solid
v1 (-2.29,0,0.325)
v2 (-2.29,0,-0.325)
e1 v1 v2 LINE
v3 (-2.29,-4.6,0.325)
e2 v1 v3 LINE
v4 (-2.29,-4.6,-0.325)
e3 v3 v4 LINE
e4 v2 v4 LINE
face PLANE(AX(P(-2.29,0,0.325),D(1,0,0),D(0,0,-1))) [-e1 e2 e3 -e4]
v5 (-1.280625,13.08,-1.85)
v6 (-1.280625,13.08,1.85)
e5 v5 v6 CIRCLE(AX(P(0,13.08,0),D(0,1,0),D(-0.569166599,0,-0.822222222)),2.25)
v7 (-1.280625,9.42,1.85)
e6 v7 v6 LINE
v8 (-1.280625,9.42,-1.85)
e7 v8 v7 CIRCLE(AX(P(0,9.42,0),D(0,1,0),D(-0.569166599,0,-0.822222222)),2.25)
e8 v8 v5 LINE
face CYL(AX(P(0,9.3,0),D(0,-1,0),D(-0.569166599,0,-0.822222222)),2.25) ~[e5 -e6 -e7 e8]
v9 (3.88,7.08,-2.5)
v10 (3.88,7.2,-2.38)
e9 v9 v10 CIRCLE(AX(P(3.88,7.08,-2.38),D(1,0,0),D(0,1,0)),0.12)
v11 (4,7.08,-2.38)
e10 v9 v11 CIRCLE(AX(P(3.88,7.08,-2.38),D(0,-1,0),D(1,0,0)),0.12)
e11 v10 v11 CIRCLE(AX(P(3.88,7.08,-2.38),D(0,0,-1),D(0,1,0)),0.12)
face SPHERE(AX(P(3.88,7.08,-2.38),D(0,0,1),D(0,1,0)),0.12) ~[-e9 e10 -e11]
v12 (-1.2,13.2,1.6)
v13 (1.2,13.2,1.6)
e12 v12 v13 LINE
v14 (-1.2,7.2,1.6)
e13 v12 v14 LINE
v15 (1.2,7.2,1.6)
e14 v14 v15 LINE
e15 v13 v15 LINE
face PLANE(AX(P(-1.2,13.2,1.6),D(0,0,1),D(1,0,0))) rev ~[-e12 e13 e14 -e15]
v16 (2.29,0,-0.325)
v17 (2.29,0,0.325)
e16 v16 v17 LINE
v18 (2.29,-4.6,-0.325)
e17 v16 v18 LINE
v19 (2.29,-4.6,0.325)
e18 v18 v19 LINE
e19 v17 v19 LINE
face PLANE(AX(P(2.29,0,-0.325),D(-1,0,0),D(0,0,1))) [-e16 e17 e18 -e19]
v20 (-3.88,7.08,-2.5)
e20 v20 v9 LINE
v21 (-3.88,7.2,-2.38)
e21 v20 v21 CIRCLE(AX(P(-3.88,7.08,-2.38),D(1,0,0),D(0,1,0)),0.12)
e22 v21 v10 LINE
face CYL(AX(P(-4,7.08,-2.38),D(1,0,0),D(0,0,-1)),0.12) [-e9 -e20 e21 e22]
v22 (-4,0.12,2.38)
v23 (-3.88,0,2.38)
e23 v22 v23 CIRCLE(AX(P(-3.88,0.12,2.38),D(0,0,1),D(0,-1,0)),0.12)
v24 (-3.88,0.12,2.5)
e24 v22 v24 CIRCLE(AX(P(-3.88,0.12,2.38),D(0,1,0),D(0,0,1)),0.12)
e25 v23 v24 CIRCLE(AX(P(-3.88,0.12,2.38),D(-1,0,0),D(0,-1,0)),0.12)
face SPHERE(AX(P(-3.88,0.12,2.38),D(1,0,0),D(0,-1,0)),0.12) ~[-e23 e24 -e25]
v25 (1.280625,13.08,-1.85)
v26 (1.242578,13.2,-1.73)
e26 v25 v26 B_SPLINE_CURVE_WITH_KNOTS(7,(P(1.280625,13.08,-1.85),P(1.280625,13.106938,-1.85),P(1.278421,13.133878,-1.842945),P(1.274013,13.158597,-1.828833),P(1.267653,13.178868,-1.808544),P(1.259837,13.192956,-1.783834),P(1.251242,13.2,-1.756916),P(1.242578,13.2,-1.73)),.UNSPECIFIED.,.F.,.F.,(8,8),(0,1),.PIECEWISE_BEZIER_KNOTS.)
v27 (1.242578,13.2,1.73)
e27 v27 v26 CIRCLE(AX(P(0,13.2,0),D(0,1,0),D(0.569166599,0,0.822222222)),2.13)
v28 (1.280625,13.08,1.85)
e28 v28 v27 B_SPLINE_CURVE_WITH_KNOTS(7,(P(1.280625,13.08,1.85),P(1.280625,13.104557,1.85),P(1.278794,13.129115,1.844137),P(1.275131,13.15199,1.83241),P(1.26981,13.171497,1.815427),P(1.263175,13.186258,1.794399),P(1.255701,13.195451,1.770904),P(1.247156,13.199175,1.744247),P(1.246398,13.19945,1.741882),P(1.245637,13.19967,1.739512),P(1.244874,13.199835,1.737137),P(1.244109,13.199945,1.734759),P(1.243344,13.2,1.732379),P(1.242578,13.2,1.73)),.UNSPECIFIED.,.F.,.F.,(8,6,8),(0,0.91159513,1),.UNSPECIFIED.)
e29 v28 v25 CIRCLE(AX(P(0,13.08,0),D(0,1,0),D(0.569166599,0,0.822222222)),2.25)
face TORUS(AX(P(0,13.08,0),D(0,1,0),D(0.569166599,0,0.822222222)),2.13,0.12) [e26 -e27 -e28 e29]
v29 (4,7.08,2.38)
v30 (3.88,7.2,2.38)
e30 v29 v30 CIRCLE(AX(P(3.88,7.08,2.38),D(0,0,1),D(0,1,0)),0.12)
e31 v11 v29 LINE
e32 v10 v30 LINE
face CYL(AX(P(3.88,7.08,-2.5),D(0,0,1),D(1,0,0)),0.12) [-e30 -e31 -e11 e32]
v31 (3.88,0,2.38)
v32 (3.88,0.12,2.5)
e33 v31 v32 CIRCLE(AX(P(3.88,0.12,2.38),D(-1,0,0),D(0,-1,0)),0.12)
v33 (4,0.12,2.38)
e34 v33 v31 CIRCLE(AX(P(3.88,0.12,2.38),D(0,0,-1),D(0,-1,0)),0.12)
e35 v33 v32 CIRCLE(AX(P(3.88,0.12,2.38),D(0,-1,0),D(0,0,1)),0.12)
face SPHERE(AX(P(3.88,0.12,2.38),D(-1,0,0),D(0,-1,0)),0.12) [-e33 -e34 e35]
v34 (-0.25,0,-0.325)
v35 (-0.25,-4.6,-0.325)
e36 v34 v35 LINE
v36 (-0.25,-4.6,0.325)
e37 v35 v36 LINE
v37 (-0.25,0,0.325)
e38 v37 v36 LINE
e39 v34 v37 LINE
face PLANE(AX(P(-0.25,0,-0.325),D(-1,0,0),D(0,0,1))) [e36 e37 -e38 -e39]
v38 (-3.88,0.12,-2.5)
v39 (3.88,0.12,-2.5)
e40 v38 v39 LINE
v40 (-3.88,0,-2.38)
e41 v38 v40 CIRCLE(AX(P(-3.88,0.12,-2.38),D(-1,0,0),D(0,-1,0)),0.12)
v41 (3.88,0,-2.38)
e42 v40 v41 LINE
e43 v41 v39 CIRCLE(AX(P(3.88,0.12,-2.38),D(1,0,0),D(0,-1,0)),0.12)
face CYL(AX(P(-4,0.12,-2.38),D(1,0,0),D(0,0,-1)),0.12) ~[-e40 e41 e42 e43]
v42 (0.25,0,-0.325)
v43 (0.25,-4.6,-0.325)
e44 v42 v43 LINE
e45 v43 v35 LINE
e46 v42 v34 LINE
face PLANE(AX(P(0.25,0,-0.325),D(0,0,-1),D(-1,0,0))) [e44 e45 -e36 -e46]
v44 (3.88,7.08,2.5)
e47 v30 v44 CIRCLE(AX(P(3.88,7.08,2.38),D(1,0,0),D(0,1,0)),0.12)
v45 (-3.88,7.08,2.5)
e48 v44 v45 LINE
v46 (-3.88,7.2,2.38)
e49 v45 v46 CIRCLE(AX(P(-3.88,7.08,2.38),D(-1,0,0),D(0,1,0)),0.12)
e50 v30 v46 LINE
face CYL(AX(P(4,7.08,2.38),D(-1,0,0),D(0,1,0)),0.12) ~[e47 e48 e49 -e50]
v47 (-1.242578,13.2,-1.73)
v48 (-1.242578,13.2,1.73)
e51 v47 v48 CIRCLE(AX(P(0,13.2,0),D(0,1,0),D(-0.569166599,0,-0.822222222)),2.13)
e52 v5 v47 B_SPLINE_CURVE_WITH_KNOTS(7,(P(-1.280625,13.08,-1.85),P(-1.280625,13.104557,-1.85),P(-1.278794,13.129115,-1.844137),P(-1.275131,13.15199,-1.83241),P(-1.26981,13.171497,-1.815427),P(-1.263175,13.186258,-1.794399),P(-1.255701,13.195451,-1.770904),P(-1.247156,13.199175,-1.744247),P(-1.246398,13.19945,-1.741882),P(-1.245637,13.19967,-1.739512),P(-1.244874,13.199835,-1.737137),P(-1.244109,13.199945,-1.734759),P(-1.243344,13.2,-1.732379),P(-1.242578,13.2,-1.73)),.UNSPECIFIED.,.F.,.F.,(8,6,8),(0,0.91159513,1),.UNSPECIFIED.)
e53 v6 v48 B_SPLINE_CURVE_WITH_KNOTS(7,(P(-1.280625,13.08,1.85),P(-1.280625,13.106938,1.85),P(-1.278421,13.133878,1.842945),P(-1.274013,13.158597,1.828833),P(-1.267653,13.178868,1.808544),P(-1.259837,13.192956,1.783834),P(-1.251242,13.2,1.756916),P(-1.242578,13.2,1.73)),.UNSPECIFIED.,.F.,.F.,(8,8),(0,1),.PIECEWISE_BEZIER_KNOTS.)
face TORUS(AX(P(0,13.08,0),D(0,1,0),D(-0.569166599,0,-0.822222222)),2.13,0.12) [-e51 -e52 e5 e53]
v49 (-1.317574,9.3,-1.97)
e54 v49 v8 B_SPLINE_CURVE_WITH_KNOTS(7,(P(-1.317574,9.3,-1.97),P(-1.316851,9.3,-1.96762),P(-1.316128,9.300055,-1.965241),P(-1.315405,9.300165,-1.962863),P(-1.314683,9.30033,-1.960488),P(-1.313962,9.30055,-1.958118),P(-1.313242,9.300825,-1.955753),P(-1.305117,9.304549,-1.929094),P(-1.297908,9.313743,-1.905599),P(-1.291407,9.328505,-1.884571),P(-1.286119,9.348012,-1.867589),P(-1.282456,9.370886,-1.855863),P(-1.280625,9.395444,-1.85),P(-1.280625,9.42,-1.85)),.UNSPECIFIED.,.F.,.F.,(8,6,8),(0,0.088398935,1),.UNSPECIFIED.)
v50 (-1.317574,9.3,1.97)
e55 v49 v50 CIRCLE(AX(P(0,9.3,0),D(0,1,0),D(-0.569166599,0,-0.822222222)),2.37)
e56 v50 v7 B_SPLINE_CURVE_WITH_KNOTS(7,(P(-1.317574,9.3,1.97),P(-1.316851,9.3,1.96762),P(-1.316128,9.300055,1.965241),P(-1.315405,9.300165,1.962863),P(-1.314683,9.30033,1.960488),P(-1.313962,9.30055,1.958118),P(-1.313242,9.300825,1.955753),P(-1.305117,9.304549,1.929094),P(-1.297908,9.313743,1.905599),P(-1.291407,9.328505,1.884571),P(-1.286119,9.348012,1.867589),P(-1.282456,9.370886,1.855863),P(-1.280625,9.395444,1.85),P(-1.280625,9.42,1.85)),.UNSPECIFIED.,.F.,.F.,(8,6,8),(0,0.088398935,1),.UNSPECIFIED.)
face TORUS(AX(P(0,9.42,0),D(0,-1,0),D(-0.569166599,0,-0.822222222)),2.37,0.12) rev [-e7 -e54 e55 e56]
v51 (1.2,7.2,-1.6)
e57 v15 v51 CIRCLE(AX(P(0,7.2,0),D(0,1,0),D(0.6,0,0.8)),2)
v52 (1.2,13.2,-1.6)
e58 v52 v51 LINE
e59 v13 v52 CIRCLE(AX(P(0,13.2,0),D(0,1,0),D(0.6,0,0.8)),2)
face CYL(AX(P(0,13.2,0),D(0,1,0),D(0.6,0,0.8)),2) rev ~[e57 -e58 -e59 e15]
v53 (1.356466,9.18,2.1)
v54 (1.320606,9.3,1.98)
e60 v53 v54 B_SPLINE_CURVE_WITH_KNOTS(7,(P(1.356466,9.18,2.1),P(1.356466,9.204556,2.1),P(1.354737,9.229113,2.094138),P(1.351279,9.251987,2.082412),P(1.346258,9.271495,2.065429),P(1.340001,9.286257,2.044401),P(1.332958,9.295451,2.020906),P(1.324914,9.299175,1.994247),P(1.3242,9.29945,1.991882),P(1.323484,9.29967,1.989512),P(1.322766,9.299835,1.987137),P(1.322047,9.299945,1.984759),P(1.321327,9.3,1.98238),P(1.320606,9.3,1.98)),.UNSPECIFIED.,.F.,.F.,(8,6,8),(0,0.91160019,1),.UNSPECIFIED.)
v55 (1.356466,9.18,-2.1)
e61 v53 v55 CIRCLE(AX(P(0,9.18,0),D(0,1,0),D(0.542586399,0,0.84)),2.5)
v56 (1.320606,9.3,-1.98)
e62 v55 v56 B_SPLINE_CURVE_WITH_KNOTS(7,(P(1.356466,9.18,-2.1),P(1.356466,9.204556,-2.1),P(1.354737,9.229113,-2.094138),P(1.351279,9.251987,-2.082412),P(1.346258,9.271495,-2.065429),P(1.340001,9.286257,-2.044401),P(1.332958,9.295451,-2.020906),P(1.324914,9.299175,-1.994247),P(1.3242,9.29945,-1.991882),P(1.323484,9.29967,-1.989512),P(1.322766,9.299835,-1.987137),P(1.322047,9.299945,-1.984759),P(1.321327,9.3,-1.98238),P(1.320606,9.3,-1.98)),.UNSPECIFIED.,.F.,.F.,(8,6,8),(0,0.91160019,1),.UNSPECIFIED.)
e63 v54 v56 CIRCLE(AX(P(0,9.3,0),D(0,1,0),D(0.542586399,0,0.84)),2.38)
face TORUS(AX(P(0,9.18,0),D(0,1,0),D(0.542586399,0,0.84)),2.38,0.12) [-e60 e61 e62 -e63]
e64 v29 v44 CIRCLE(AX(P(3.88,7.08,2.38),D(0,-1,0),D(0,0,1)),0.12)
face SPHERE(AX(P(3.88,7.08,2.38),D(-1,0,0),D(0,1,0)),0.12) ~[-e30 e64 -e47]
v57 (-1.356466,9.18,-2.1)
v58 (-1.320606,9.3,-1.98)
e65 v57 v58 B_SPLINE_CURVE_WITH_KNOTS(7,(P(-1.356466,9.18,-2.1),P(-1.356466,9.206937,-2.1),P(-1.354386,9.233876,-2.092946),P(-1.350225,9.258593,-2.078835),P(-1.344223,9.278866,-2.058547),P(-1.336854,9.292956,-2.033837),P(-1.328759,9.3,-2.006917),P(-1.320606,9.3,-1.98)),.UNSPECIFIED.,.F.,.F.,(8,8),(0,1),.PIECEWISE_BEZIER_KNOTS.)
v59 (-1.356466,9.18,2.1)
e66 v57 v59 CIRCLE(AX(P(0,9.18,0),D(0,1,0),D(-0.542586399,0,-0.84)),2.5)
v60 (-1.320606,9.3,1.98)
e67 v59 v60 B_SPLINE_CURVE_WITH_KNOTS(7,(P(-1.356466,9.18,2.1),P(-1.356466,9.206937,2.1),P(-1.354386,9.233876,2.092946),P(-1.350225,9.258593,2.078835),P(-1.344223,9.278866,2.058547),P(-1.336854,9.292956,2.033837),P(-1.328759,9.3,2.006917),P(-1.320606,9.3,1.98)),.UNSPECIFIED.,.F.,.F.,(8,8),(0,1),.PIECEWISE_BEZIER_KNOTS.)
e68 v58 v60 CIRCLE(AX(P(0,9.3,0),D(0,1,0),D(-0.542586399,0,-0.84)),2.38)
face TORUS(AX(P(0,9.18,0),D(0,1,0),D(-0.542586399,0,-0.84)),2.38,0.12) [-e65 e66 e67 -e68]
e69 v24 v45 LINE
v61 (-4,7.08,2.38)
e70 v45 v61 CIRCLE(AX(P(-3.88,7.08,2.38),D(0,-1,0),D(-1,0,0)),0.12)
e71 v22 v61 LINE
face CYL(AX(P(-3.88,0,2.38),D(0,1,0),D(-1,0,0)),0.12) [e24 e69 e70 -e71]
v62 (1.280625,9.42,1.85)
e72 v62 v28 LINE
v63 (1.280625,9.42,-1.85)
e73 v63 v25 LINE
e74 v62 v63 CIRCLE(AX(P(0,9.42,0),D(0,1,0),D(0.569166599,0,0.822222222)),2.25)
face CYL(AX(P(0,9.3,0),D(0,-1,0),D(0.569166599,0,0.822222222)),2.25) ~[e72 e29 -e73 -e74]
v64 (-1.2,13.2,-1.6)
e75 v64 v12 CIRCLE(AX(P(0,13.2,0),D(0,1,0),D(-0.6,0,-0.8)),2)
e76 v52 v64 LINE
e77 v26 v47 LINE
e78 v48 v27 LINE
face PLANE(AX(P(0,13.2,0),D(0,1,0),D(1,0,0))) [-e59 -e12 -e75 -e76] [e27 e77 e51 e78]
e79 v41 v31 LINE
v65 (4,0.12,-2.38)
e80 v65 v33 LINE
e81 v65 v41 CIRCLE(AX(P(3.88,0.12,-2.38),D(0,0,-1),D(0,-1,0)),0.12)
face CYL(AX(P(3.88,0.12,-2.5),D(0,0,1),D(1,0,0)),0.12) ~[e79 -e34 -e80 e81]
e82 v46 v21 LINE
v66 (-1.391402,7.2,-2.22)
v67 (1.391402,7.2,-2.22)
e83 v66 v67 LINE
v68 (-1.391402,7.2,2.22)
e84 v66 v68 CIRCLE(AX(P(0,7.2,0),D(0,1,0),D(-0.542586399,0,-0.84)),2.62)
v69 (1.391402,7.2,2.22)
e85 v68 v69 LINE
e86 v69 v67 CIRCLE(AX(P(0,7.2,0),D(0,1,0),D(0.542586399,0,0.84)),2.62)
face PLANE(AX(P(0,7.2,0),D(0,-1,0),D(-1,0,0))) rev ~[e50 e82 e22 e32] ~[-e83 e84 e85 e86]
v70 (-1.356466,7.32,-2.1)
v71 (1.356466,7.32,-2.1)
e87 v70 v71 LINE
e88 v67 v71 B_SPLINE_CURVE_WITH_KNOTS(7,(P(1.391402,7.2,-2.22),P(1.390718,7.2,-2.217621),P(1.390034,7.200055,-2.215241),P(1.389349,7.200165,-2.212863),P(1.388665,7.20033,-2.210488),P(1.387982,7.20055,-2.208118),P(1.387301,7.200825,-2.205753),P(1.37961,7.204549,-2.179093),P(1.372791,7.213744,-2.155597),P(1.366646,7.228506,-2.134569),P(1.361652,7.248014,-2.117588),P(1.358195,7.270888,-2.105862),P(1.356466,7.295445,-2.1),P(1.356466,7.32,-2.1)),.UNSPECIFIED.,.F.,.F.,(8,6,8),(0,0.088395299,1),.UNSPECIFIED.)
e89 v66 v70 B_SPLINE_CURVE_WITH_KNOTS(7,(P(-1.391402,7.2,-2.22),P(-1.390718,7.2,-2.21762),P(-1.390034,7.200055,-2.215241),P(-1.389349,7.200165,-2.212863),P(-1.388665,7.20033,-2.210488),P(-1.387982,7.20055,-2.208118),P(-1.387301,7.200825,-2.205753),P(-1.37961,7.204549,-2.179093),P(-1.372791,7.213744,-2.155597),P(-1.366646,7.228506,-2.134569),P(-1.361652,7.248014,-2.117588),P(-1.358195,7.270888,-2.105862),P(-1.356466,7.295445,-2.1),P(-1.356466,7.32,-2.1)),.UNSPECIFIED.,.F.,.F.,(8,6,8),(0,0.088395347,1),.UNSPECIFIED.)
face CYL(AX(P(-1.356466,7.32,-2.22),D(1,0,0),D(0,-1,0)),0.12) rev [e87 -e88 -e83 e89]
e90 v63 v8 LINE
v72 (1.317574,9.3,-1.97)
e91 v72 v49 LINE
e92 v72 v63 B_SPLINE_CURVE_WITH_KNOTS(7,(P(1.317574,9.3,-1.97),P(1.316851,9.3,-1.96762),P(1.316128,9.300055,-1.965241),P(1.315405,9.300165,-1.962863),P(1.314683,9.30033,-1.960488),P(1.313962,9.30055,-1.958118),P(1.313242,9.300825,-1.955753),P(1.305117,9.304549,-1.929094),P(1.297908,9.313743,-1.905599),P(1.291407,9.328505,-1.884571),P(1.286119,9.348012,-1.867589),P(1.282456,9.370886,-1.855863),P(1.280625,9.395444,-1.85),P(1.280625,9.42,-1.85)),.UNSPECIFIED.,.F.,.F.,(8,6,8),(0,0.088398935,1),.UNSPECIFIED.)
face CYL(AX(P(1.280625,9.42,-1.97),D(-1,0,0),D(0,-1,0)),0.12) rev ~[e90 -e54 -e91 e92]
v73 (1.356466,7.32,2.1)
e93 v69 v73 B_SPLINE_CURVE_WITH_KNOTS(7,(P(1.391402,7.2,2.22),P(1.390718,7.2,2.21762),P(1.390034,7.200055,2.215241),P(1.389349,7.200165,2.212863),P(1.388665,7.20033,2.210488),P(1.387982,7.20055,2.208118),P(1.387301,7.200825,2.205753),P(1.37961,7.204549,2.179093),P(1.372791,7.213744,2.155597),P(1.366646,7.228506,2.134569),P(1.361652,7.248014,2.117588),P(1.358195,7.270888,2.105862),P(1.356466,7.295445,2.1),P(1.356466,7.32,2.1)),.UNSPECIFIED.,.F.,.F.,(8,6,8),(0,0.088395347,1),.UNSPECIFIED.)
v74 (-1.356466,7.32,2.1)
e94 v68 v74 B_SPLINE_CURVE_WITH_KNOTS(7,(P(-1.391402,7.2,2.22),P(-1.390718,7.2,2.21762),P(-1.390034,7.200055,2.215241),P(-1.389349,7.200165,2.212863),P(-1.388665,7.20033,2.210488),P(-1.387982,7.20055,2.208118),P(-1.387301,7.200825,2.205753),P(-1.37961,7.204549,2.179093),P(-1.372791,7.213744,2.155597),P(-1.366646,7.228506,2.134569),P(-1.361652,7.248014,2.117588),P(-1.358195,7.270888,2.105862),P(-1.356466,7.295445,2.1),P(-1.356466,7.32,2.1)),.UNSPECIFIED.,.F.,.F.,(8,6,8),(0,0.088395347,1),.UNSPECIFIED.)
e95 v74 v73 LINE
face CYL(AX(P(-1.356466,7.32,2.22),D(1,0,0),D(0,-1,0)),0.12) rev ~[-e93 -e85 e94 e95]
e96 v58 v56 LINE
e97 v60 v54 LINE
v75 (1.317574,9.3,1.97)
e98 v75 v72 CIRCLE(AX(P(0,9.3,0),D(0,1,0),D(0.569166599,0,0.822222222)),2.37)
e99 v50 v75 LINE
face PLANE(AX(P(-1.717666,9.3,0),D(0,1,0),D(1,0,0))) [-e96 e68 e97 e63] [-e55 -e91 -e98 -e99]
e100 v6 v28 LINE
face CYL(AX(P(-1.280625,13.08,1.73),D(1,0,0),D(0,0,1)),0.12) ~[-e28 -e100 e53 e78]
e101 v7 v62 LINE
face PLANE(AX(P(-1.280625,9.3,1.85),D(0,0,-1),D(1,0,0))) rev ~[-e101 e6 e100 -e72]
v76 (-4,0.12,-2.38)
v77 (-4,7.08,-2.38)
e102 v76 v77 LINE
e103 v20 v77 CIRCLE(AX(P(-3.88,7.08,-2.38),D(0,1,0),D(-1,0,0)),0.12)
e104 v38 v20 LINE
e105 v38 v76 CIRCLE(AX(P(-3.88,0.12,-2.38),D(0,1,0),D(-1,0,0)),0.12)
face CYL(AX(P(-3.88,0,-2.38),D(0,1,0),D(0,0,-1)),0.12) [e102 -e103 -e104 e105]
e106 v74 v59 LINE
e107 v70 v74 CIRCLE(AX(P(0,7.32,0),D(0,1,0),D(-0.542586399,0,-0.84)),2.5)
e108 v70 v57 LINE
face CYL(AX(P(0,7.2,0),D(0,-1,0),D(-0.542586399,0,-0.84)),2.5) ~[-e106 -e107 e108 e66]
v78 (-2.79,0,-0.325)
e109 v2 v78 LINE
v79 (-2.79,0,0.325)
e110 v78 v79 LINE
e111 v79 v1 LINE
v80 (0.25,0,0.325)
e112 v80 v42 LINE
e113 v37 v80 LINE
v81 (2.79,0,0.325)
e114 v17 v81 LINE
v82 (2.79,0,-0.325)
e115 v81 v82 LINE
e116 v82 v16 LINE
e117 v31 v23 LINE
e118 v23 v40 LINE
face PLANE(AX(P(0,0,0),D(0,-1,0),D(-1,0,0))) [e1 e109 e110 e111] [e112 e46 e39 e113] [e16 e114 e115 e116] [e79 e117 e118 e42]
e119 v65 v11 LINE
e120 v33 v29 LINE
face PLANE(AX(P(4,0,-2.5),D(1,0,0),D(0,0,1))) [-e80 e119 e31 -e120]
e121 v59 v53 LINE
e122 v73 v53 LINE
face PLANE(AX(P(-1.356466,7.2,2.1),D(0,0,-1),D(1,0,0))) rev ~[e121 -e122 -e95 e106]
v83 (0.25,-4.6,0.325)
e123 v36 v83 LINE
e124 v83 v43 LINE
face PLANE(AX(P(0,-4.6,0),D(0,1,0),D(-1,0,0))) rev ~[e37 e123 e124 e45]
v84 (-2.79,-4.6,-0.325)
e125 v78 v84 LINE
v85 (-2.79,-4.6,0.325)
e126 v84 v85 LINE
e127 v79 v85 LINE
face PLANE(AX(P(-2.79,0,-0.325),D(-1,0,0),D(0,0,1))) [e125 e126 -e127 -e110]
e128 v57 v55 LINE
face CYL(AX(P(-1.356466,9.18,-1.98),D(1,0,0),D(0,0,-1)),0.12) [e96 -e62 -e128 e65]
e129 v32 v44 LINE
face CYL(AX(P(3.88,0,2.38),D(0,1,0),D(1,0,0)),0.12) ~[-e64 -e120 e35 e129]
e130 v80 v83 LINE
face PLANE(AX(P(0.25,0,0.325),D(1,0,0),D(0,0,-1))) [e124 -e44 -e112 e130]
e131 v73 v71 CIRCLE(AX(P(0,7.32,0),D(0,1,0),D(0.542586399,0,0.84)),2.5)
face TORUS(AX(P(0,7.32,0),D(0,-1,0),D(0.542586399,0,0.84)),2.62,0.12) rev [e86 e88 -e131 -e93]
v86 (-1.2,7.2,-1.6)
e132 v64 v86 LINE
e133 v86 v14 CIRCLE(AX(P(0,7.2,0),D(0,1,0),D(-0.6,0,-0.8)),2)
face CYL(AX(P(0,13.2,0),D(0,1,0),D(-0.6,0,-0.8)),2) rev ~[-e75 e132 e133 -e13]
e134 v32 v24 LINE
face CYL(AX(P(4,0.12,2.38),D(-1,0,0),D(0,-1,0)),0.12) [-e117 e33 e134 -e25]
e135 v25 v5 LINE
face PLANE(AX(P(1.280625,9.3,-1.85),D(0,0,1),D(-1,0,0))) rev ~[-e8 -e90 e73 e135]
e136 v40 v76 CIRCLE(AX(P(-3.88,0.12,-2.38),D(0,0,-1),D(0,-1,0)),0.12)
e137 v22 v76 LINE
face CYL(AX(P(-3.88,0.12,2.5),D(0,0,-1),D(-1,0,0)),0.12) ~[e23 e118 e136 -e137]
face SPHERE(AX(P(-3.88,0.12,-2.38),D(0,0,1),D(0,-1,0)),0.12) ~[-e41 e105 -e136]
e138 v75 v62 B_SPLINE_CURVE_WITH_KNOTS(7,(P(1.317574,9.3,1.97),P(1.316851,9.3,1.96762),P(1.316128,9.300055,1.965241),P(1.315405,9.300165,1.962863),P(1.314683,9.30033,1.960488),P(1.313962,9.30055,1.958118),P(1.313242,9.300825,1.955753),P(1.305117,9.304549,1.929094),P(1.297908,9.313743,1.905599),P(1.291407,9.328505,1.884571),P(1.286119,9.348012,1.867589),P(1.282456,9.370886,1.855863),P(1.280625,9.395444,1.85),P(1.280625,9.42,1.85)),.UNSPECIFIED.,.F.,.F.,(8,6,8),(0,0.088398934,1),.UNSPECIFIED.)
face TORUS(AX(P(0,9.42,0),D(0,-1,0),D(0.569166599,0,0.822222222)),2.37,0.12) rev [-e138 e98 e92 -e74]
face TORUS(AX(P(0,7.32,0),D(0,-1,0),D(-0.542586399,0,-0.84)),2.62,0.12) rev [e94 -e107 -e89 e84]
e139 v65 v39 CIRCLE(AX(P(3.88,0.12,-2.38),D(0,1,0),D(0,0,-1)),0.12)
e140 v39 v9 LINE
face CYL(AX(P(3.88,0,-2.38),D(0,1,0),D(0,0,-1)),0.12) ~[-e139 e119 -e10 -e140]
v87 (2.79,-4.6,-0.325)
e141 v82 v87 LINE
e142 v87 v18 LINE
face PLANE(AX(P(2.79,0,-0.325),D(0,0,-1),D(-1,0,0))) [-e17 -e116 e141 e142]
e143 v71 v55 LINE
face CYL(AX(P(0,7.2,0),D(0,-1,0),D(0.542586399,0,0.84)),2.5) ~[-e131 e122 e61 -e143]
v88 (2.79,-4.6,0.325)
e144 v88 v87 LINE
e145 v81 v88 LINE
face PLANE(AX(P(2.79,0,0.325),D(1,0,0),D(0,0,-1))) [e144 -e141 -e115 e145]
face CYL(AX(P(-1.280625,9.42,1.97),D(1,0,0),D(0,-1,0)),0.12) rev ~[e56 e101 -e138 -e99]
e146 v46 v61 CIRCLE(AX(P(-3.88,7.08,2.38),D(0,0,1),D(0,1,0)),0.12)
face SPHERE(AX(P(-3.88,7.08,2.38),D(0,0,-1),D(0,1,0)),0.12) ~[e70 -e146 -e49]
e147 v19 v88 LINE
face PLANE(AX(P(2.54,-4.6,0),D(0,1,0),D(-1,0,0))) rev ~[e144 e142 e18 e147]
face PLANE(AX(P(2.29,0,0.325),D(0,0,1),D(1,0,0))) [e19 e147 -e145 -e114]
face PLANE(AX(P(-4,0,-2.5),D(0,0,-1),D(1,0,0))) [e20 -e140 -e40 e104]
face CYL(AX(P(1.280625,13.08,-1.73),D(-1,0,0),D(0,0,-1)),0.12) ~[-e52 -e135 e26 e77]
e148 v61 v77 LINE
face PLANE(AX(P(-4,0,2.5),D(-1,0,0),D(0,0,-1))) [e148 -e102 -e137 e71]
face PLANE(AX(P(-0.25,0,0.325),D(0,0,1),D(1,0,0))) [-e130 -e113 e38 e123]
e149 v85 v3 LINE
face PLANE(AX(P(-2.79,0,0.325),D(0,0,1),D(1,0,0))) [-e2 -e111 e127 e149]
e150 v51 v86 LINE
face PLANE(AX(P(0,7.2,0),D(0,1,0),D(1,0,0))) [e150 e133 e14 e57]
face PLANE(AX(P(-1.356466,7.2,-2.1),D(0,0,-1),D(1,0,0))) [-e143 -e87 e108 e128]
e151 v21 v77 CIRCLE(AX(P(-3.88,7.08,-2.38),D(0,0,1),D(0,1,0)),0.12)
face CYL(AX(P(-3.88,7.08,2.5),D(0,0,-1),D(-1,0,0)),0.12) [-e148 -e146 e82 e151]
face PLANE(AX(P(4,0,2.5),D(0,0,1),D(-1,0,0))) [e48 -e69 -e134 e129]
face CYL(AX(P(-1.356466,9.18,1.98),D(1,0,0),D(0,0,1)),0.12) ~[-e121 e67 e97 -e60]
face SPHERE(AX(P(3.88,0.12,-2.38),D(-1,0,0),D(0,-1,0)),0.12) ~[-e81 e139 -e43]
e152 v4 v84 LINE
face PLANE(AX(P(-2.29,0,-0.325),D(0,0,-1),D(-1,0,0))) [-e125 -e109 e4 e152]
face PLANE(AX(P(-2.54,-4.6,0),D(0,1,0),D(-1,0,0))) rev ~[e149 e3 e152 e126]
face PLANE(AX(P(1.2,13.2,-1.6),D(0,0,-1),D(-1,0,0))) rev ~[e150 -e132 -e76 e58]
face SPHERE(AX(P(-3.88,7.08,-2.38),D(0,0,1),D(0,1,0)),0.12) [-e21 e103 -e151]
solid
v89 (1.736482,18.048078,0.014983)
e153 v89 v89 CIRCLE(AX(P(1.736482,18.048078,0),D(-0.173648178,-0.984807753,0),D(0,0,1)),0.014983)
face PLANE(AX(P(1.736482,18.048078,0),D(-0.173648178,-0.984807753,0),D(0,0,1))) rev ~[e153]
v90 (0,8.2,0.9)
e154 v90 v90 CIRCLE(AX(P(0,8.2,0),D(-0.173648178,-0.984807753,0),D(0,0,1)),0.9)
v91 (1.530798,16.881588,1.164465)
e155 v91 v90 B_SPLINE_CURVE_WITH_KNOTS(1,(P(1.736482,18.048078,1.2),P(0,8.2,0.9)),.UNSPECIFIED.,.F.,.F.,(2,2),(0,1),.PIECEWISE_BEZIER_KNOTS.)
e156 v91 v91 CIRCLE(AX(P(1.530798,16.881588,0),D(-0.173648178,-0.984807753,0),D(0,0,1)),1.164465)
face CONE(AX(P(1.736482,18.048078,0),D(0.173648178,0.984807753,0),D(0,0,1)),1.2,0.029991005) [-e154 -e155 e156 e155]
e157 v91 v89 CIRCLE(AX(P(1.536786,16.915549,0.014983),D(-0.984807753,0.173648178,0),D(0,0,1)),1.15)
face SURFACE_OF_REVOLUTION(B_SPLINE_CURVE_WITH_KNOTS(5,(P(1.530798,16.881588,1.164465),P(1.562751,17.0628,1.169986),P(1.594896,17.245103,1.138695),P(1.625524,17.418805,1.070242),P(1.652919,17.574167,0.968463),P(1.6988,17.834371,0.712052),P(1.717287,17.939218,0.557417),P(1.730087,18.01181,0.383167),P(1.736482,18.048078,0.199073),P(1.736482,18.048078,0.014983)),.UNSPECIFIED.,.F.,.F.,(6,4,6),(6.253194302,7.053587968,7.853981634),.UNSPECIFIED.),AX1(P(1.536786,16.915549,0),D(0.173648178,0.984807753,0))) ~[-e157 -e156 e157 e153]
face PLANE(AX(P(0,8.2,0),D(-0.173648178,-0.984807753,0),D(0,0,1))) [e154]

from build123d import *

# Parameters (mm, degrees)
BOSS_EXTRUDE1_DEPTH = 7.2
SKETCH2_W           = 2.712931993250106
SKETCH2_H           = 4.2
BOSS_EXTRUDE2_DEPTH = 2.1
BOSS_EXTRUDE3_DEPTH = 3.9
CUT_EXTRUDE1_DEPTH  = 6
SKETCH6_R           = 1.2
SKETCH5_R           = 0.9
FILLET1_R           = 1.15
BOSS_EXTRUDE4_DEPTH = 4.6
FILLET2_R           = 0.12


with BuildPart() as part:
    # Sketch1 → Boss-Extrude1 (new body)
    with BuildSketch(Plane(origin=(0, 0, 0), x_dir=(1, 0, 0), z_dir=(0, 1, 0))):
        Polygon((-3.999999999999999, 2.5), (4.000000000000001, 2.5), (4.000000000000003, -2.5), (-3.9999999999999982, -2.5), align=None)
    extrude(amount=BOSS_EXTRUDE1_DEPTH)

    # Sketch2 → Boss-Extrude2 (add)
    with BuildSketch(Plane(origin=(0, 7.2, 0), x_dir=(1, 0, 0), z_dir=(0, 1, 0))):
        with BuildLine():
            ThreePointArc((-1.3564659966250532, 2.1000000000000005), (-2.5, 3.1e-16), (-1.3564659966250527, -2.1000000000000005))
            Line((-1.3564659966250527, -2.1), (-1.3564659966250527, 2.1))
        make_face()
        Rectangle(SKETCH2_W, SKETCH2_H)
        with BuildLine():
            Line((1.3564659966250532, 2.1), (1.3564659966250532, -2.1))
            ThreePointArc((1.3564659966250519, -2.100000000000001), (2.1955824957813164, -1.1955824957813181), (2.5, -6.1e-16))
            ThreePointArc((2.5, 0), (2.195582495781317, 1.1955824957813173), (1.3564659966250532, 2.1))
        make_face()
    extrude(amount=BOSS_EXTRUDE2_DEPTH)

    # Sketch3 → Boss-Extrude3 (add)
    with BuildSketch(Plane(origin=(0, 9.299999999999999, 0), x_dir=(1, 0, 0), z_dir=(0, 1, 0))):
        with BuildLine():
            Line((-1.2806248474869384, -1.8500000000000003), (1.28062484748694, -1.8500000000000003))
            ThreePointArc((1.28062484748694, -1.8500000000000003), (2.250000000000211, 0), (1.2806248474869395, 1.8500000000000003))
            Line((1.2806248474869395, 1.8500000000000003), (-1.2806248474869382, 1.8500000000000003))
            ThreePointArc((-1.2806248474869382, 1.8500000000000003), (-2.25000000000021, 2.8e-16), (-1.2806248474869384, -1.8500000000000003))
        make_face()
    extrude(amount=BOSS_EXTRUDE3_DEPTH)

    # Sketch4 → Cut-Extrude1 (cut)
    with BuildSketch(Plane(origin=(0, 13.2, 0), x_dir=(1, 0, 0), z_dir=(0, 1, 0))):
        with BuildLine():
            Line((1.200000000001133, 1.6000000000000003), (-1.200000000001132, 1.6000000000000003))
            ThreePointArc((-1.200000000001132, 1.6000000000000003), (-2.0000000000006795, 2.4e-16), (-1.200000000001132, -1.6000000000000003))
            Line((-1.200000000001132, -1.6000000000000003), (1.2000000000011335, -1.6000000000000003))
            ThreePointArc((1.2000000000011335, -1.6000000000000003), (2.0000000000006803, 2.2e-16), (1.200000000001133, 1.6000000000000003))
        make_face()
    extrude(amount=-CUT_EXTRUDE1_DEPTH, mode=Mode.SUBTRACT)

    # Sketch7 → Boss-Extrude4 (add)
    with BuildSketch(Plane.XZ):
        Polygon((2.790000000000003, 0.3249999999999992), (2.790000000000003, -0.3250000000000008), (2.290000000000003, -0.3250000000000008), (2.290000000000003, 0.3249999999999991), align=None)
        Polygon((-0.2500000000000001, 0.32499999999999996), (0.2499999999999999, 0.32499999999999996), (0.25000000000000006, -0.325), (-0.25000000000000006, -0.325), align=None)
        Polygon((-2.7900000000000005, 0.32500000000000007), (-2.2900000000000005, 0.325), (-2.2900000000000005, -0.32499999999999996), (-2.7900000000000005, -0.32499999999999996), align=None)
    extrude(amount=BOSS_EXTRUDE4_DEPTH)

    # Fillet2
    fillet2_edges = [part.edges().sort_by_distance(p)[0] for p in [
        (-3.9999999999999987, 7.2, 0),
        (2.66e-15, 7.2, 2.5),
        (-2.499999999999999, 7.2, 2.2e-16),
        (2.2e-16, 9.3, 2.1),
        (2.5, 7.2, 6.7e-16),
        (2.2e-16, 7.2, -2.1),
        (-2.499999999999999, 9.3, 2.2e-16),
        (2.5, 9.3, 4.4e-16),
        (2.2e-16, 9.3, -2.1),
        (2.2e-16, 7.2, 2.1),
        (-2.25000000000021, 9.299999999999999, -2.2e-16),
        (8.9e-16, 9.299999999999999, 1.8500000000000003),
        (2.2500000000002114, 9.299999999999999, -2.2e-16),
        (6.7e-16, 9.299999999999999, -1.8500000000000003),
        (6.7e-16, 13.2, -1.8500000000000003),
        (-2.25000000000021, 13.2, -2.2e-16),
        (8.9e-16, 13.2, 1.8500000000000003),
        (2.2500000000002114, 13.2, -2.2e-16),
        (4.000000000000002, 7.2, 0),
        (2.66e-15, 0, 2.5),
        (-3.9999999999999987, 0, 0),
        (8.9e-16, 0, -2.5),
        (4.000000000000002, 0, 0),
        (8.9e-16, 7.2, -2.5),
        (4.000000000000003, 3.6, 2.5),
        (-3.9999999999999982, 3.6, 2.5),
        (-3.999999999999999, 3.6, -2.5),
        (4.000000000000001, 3.6, -2.5),
    ]]
    fillet(fillet2_edges, radius=FILLET2_R)


with BuildPart() as body_2:
    # Sketch6 → Loft1 section 0
    with BuildSketch(Plane(origin=(3.1387643643044916, 17.80081727534432, 0), x_dir=(0, 0, 1), z_dir=(-0.17364817766692736, -0.9848077530122086, 0))):
        with Locations((0, 1.4239150568688042)):
            Circle(SKETCH6_R)
    # Sketch5 → Loft1 section 1
    with BuildSketch(Plane(origin=(1.4022825876352183, 7.952739745222232, 0), x_dir=(0, 0, 1), z_dir=(-0.17364817766692736, -0.9848077530122086, 0))):
        with Locations((0, 1.4239150568688042)):
            Circle(SKETCH5_R)
    loft()

    # Fillet1
    fillet1_edges = [body_2.edges().sort_by_distance(p)[0] for p in [
        (1.736481776669273, 18.048077530122086, -1.2),
    ]]
    fillet(fillet1_edges, radius=FILLET1_R)


solid = Compound([part.part, body_2.part])
